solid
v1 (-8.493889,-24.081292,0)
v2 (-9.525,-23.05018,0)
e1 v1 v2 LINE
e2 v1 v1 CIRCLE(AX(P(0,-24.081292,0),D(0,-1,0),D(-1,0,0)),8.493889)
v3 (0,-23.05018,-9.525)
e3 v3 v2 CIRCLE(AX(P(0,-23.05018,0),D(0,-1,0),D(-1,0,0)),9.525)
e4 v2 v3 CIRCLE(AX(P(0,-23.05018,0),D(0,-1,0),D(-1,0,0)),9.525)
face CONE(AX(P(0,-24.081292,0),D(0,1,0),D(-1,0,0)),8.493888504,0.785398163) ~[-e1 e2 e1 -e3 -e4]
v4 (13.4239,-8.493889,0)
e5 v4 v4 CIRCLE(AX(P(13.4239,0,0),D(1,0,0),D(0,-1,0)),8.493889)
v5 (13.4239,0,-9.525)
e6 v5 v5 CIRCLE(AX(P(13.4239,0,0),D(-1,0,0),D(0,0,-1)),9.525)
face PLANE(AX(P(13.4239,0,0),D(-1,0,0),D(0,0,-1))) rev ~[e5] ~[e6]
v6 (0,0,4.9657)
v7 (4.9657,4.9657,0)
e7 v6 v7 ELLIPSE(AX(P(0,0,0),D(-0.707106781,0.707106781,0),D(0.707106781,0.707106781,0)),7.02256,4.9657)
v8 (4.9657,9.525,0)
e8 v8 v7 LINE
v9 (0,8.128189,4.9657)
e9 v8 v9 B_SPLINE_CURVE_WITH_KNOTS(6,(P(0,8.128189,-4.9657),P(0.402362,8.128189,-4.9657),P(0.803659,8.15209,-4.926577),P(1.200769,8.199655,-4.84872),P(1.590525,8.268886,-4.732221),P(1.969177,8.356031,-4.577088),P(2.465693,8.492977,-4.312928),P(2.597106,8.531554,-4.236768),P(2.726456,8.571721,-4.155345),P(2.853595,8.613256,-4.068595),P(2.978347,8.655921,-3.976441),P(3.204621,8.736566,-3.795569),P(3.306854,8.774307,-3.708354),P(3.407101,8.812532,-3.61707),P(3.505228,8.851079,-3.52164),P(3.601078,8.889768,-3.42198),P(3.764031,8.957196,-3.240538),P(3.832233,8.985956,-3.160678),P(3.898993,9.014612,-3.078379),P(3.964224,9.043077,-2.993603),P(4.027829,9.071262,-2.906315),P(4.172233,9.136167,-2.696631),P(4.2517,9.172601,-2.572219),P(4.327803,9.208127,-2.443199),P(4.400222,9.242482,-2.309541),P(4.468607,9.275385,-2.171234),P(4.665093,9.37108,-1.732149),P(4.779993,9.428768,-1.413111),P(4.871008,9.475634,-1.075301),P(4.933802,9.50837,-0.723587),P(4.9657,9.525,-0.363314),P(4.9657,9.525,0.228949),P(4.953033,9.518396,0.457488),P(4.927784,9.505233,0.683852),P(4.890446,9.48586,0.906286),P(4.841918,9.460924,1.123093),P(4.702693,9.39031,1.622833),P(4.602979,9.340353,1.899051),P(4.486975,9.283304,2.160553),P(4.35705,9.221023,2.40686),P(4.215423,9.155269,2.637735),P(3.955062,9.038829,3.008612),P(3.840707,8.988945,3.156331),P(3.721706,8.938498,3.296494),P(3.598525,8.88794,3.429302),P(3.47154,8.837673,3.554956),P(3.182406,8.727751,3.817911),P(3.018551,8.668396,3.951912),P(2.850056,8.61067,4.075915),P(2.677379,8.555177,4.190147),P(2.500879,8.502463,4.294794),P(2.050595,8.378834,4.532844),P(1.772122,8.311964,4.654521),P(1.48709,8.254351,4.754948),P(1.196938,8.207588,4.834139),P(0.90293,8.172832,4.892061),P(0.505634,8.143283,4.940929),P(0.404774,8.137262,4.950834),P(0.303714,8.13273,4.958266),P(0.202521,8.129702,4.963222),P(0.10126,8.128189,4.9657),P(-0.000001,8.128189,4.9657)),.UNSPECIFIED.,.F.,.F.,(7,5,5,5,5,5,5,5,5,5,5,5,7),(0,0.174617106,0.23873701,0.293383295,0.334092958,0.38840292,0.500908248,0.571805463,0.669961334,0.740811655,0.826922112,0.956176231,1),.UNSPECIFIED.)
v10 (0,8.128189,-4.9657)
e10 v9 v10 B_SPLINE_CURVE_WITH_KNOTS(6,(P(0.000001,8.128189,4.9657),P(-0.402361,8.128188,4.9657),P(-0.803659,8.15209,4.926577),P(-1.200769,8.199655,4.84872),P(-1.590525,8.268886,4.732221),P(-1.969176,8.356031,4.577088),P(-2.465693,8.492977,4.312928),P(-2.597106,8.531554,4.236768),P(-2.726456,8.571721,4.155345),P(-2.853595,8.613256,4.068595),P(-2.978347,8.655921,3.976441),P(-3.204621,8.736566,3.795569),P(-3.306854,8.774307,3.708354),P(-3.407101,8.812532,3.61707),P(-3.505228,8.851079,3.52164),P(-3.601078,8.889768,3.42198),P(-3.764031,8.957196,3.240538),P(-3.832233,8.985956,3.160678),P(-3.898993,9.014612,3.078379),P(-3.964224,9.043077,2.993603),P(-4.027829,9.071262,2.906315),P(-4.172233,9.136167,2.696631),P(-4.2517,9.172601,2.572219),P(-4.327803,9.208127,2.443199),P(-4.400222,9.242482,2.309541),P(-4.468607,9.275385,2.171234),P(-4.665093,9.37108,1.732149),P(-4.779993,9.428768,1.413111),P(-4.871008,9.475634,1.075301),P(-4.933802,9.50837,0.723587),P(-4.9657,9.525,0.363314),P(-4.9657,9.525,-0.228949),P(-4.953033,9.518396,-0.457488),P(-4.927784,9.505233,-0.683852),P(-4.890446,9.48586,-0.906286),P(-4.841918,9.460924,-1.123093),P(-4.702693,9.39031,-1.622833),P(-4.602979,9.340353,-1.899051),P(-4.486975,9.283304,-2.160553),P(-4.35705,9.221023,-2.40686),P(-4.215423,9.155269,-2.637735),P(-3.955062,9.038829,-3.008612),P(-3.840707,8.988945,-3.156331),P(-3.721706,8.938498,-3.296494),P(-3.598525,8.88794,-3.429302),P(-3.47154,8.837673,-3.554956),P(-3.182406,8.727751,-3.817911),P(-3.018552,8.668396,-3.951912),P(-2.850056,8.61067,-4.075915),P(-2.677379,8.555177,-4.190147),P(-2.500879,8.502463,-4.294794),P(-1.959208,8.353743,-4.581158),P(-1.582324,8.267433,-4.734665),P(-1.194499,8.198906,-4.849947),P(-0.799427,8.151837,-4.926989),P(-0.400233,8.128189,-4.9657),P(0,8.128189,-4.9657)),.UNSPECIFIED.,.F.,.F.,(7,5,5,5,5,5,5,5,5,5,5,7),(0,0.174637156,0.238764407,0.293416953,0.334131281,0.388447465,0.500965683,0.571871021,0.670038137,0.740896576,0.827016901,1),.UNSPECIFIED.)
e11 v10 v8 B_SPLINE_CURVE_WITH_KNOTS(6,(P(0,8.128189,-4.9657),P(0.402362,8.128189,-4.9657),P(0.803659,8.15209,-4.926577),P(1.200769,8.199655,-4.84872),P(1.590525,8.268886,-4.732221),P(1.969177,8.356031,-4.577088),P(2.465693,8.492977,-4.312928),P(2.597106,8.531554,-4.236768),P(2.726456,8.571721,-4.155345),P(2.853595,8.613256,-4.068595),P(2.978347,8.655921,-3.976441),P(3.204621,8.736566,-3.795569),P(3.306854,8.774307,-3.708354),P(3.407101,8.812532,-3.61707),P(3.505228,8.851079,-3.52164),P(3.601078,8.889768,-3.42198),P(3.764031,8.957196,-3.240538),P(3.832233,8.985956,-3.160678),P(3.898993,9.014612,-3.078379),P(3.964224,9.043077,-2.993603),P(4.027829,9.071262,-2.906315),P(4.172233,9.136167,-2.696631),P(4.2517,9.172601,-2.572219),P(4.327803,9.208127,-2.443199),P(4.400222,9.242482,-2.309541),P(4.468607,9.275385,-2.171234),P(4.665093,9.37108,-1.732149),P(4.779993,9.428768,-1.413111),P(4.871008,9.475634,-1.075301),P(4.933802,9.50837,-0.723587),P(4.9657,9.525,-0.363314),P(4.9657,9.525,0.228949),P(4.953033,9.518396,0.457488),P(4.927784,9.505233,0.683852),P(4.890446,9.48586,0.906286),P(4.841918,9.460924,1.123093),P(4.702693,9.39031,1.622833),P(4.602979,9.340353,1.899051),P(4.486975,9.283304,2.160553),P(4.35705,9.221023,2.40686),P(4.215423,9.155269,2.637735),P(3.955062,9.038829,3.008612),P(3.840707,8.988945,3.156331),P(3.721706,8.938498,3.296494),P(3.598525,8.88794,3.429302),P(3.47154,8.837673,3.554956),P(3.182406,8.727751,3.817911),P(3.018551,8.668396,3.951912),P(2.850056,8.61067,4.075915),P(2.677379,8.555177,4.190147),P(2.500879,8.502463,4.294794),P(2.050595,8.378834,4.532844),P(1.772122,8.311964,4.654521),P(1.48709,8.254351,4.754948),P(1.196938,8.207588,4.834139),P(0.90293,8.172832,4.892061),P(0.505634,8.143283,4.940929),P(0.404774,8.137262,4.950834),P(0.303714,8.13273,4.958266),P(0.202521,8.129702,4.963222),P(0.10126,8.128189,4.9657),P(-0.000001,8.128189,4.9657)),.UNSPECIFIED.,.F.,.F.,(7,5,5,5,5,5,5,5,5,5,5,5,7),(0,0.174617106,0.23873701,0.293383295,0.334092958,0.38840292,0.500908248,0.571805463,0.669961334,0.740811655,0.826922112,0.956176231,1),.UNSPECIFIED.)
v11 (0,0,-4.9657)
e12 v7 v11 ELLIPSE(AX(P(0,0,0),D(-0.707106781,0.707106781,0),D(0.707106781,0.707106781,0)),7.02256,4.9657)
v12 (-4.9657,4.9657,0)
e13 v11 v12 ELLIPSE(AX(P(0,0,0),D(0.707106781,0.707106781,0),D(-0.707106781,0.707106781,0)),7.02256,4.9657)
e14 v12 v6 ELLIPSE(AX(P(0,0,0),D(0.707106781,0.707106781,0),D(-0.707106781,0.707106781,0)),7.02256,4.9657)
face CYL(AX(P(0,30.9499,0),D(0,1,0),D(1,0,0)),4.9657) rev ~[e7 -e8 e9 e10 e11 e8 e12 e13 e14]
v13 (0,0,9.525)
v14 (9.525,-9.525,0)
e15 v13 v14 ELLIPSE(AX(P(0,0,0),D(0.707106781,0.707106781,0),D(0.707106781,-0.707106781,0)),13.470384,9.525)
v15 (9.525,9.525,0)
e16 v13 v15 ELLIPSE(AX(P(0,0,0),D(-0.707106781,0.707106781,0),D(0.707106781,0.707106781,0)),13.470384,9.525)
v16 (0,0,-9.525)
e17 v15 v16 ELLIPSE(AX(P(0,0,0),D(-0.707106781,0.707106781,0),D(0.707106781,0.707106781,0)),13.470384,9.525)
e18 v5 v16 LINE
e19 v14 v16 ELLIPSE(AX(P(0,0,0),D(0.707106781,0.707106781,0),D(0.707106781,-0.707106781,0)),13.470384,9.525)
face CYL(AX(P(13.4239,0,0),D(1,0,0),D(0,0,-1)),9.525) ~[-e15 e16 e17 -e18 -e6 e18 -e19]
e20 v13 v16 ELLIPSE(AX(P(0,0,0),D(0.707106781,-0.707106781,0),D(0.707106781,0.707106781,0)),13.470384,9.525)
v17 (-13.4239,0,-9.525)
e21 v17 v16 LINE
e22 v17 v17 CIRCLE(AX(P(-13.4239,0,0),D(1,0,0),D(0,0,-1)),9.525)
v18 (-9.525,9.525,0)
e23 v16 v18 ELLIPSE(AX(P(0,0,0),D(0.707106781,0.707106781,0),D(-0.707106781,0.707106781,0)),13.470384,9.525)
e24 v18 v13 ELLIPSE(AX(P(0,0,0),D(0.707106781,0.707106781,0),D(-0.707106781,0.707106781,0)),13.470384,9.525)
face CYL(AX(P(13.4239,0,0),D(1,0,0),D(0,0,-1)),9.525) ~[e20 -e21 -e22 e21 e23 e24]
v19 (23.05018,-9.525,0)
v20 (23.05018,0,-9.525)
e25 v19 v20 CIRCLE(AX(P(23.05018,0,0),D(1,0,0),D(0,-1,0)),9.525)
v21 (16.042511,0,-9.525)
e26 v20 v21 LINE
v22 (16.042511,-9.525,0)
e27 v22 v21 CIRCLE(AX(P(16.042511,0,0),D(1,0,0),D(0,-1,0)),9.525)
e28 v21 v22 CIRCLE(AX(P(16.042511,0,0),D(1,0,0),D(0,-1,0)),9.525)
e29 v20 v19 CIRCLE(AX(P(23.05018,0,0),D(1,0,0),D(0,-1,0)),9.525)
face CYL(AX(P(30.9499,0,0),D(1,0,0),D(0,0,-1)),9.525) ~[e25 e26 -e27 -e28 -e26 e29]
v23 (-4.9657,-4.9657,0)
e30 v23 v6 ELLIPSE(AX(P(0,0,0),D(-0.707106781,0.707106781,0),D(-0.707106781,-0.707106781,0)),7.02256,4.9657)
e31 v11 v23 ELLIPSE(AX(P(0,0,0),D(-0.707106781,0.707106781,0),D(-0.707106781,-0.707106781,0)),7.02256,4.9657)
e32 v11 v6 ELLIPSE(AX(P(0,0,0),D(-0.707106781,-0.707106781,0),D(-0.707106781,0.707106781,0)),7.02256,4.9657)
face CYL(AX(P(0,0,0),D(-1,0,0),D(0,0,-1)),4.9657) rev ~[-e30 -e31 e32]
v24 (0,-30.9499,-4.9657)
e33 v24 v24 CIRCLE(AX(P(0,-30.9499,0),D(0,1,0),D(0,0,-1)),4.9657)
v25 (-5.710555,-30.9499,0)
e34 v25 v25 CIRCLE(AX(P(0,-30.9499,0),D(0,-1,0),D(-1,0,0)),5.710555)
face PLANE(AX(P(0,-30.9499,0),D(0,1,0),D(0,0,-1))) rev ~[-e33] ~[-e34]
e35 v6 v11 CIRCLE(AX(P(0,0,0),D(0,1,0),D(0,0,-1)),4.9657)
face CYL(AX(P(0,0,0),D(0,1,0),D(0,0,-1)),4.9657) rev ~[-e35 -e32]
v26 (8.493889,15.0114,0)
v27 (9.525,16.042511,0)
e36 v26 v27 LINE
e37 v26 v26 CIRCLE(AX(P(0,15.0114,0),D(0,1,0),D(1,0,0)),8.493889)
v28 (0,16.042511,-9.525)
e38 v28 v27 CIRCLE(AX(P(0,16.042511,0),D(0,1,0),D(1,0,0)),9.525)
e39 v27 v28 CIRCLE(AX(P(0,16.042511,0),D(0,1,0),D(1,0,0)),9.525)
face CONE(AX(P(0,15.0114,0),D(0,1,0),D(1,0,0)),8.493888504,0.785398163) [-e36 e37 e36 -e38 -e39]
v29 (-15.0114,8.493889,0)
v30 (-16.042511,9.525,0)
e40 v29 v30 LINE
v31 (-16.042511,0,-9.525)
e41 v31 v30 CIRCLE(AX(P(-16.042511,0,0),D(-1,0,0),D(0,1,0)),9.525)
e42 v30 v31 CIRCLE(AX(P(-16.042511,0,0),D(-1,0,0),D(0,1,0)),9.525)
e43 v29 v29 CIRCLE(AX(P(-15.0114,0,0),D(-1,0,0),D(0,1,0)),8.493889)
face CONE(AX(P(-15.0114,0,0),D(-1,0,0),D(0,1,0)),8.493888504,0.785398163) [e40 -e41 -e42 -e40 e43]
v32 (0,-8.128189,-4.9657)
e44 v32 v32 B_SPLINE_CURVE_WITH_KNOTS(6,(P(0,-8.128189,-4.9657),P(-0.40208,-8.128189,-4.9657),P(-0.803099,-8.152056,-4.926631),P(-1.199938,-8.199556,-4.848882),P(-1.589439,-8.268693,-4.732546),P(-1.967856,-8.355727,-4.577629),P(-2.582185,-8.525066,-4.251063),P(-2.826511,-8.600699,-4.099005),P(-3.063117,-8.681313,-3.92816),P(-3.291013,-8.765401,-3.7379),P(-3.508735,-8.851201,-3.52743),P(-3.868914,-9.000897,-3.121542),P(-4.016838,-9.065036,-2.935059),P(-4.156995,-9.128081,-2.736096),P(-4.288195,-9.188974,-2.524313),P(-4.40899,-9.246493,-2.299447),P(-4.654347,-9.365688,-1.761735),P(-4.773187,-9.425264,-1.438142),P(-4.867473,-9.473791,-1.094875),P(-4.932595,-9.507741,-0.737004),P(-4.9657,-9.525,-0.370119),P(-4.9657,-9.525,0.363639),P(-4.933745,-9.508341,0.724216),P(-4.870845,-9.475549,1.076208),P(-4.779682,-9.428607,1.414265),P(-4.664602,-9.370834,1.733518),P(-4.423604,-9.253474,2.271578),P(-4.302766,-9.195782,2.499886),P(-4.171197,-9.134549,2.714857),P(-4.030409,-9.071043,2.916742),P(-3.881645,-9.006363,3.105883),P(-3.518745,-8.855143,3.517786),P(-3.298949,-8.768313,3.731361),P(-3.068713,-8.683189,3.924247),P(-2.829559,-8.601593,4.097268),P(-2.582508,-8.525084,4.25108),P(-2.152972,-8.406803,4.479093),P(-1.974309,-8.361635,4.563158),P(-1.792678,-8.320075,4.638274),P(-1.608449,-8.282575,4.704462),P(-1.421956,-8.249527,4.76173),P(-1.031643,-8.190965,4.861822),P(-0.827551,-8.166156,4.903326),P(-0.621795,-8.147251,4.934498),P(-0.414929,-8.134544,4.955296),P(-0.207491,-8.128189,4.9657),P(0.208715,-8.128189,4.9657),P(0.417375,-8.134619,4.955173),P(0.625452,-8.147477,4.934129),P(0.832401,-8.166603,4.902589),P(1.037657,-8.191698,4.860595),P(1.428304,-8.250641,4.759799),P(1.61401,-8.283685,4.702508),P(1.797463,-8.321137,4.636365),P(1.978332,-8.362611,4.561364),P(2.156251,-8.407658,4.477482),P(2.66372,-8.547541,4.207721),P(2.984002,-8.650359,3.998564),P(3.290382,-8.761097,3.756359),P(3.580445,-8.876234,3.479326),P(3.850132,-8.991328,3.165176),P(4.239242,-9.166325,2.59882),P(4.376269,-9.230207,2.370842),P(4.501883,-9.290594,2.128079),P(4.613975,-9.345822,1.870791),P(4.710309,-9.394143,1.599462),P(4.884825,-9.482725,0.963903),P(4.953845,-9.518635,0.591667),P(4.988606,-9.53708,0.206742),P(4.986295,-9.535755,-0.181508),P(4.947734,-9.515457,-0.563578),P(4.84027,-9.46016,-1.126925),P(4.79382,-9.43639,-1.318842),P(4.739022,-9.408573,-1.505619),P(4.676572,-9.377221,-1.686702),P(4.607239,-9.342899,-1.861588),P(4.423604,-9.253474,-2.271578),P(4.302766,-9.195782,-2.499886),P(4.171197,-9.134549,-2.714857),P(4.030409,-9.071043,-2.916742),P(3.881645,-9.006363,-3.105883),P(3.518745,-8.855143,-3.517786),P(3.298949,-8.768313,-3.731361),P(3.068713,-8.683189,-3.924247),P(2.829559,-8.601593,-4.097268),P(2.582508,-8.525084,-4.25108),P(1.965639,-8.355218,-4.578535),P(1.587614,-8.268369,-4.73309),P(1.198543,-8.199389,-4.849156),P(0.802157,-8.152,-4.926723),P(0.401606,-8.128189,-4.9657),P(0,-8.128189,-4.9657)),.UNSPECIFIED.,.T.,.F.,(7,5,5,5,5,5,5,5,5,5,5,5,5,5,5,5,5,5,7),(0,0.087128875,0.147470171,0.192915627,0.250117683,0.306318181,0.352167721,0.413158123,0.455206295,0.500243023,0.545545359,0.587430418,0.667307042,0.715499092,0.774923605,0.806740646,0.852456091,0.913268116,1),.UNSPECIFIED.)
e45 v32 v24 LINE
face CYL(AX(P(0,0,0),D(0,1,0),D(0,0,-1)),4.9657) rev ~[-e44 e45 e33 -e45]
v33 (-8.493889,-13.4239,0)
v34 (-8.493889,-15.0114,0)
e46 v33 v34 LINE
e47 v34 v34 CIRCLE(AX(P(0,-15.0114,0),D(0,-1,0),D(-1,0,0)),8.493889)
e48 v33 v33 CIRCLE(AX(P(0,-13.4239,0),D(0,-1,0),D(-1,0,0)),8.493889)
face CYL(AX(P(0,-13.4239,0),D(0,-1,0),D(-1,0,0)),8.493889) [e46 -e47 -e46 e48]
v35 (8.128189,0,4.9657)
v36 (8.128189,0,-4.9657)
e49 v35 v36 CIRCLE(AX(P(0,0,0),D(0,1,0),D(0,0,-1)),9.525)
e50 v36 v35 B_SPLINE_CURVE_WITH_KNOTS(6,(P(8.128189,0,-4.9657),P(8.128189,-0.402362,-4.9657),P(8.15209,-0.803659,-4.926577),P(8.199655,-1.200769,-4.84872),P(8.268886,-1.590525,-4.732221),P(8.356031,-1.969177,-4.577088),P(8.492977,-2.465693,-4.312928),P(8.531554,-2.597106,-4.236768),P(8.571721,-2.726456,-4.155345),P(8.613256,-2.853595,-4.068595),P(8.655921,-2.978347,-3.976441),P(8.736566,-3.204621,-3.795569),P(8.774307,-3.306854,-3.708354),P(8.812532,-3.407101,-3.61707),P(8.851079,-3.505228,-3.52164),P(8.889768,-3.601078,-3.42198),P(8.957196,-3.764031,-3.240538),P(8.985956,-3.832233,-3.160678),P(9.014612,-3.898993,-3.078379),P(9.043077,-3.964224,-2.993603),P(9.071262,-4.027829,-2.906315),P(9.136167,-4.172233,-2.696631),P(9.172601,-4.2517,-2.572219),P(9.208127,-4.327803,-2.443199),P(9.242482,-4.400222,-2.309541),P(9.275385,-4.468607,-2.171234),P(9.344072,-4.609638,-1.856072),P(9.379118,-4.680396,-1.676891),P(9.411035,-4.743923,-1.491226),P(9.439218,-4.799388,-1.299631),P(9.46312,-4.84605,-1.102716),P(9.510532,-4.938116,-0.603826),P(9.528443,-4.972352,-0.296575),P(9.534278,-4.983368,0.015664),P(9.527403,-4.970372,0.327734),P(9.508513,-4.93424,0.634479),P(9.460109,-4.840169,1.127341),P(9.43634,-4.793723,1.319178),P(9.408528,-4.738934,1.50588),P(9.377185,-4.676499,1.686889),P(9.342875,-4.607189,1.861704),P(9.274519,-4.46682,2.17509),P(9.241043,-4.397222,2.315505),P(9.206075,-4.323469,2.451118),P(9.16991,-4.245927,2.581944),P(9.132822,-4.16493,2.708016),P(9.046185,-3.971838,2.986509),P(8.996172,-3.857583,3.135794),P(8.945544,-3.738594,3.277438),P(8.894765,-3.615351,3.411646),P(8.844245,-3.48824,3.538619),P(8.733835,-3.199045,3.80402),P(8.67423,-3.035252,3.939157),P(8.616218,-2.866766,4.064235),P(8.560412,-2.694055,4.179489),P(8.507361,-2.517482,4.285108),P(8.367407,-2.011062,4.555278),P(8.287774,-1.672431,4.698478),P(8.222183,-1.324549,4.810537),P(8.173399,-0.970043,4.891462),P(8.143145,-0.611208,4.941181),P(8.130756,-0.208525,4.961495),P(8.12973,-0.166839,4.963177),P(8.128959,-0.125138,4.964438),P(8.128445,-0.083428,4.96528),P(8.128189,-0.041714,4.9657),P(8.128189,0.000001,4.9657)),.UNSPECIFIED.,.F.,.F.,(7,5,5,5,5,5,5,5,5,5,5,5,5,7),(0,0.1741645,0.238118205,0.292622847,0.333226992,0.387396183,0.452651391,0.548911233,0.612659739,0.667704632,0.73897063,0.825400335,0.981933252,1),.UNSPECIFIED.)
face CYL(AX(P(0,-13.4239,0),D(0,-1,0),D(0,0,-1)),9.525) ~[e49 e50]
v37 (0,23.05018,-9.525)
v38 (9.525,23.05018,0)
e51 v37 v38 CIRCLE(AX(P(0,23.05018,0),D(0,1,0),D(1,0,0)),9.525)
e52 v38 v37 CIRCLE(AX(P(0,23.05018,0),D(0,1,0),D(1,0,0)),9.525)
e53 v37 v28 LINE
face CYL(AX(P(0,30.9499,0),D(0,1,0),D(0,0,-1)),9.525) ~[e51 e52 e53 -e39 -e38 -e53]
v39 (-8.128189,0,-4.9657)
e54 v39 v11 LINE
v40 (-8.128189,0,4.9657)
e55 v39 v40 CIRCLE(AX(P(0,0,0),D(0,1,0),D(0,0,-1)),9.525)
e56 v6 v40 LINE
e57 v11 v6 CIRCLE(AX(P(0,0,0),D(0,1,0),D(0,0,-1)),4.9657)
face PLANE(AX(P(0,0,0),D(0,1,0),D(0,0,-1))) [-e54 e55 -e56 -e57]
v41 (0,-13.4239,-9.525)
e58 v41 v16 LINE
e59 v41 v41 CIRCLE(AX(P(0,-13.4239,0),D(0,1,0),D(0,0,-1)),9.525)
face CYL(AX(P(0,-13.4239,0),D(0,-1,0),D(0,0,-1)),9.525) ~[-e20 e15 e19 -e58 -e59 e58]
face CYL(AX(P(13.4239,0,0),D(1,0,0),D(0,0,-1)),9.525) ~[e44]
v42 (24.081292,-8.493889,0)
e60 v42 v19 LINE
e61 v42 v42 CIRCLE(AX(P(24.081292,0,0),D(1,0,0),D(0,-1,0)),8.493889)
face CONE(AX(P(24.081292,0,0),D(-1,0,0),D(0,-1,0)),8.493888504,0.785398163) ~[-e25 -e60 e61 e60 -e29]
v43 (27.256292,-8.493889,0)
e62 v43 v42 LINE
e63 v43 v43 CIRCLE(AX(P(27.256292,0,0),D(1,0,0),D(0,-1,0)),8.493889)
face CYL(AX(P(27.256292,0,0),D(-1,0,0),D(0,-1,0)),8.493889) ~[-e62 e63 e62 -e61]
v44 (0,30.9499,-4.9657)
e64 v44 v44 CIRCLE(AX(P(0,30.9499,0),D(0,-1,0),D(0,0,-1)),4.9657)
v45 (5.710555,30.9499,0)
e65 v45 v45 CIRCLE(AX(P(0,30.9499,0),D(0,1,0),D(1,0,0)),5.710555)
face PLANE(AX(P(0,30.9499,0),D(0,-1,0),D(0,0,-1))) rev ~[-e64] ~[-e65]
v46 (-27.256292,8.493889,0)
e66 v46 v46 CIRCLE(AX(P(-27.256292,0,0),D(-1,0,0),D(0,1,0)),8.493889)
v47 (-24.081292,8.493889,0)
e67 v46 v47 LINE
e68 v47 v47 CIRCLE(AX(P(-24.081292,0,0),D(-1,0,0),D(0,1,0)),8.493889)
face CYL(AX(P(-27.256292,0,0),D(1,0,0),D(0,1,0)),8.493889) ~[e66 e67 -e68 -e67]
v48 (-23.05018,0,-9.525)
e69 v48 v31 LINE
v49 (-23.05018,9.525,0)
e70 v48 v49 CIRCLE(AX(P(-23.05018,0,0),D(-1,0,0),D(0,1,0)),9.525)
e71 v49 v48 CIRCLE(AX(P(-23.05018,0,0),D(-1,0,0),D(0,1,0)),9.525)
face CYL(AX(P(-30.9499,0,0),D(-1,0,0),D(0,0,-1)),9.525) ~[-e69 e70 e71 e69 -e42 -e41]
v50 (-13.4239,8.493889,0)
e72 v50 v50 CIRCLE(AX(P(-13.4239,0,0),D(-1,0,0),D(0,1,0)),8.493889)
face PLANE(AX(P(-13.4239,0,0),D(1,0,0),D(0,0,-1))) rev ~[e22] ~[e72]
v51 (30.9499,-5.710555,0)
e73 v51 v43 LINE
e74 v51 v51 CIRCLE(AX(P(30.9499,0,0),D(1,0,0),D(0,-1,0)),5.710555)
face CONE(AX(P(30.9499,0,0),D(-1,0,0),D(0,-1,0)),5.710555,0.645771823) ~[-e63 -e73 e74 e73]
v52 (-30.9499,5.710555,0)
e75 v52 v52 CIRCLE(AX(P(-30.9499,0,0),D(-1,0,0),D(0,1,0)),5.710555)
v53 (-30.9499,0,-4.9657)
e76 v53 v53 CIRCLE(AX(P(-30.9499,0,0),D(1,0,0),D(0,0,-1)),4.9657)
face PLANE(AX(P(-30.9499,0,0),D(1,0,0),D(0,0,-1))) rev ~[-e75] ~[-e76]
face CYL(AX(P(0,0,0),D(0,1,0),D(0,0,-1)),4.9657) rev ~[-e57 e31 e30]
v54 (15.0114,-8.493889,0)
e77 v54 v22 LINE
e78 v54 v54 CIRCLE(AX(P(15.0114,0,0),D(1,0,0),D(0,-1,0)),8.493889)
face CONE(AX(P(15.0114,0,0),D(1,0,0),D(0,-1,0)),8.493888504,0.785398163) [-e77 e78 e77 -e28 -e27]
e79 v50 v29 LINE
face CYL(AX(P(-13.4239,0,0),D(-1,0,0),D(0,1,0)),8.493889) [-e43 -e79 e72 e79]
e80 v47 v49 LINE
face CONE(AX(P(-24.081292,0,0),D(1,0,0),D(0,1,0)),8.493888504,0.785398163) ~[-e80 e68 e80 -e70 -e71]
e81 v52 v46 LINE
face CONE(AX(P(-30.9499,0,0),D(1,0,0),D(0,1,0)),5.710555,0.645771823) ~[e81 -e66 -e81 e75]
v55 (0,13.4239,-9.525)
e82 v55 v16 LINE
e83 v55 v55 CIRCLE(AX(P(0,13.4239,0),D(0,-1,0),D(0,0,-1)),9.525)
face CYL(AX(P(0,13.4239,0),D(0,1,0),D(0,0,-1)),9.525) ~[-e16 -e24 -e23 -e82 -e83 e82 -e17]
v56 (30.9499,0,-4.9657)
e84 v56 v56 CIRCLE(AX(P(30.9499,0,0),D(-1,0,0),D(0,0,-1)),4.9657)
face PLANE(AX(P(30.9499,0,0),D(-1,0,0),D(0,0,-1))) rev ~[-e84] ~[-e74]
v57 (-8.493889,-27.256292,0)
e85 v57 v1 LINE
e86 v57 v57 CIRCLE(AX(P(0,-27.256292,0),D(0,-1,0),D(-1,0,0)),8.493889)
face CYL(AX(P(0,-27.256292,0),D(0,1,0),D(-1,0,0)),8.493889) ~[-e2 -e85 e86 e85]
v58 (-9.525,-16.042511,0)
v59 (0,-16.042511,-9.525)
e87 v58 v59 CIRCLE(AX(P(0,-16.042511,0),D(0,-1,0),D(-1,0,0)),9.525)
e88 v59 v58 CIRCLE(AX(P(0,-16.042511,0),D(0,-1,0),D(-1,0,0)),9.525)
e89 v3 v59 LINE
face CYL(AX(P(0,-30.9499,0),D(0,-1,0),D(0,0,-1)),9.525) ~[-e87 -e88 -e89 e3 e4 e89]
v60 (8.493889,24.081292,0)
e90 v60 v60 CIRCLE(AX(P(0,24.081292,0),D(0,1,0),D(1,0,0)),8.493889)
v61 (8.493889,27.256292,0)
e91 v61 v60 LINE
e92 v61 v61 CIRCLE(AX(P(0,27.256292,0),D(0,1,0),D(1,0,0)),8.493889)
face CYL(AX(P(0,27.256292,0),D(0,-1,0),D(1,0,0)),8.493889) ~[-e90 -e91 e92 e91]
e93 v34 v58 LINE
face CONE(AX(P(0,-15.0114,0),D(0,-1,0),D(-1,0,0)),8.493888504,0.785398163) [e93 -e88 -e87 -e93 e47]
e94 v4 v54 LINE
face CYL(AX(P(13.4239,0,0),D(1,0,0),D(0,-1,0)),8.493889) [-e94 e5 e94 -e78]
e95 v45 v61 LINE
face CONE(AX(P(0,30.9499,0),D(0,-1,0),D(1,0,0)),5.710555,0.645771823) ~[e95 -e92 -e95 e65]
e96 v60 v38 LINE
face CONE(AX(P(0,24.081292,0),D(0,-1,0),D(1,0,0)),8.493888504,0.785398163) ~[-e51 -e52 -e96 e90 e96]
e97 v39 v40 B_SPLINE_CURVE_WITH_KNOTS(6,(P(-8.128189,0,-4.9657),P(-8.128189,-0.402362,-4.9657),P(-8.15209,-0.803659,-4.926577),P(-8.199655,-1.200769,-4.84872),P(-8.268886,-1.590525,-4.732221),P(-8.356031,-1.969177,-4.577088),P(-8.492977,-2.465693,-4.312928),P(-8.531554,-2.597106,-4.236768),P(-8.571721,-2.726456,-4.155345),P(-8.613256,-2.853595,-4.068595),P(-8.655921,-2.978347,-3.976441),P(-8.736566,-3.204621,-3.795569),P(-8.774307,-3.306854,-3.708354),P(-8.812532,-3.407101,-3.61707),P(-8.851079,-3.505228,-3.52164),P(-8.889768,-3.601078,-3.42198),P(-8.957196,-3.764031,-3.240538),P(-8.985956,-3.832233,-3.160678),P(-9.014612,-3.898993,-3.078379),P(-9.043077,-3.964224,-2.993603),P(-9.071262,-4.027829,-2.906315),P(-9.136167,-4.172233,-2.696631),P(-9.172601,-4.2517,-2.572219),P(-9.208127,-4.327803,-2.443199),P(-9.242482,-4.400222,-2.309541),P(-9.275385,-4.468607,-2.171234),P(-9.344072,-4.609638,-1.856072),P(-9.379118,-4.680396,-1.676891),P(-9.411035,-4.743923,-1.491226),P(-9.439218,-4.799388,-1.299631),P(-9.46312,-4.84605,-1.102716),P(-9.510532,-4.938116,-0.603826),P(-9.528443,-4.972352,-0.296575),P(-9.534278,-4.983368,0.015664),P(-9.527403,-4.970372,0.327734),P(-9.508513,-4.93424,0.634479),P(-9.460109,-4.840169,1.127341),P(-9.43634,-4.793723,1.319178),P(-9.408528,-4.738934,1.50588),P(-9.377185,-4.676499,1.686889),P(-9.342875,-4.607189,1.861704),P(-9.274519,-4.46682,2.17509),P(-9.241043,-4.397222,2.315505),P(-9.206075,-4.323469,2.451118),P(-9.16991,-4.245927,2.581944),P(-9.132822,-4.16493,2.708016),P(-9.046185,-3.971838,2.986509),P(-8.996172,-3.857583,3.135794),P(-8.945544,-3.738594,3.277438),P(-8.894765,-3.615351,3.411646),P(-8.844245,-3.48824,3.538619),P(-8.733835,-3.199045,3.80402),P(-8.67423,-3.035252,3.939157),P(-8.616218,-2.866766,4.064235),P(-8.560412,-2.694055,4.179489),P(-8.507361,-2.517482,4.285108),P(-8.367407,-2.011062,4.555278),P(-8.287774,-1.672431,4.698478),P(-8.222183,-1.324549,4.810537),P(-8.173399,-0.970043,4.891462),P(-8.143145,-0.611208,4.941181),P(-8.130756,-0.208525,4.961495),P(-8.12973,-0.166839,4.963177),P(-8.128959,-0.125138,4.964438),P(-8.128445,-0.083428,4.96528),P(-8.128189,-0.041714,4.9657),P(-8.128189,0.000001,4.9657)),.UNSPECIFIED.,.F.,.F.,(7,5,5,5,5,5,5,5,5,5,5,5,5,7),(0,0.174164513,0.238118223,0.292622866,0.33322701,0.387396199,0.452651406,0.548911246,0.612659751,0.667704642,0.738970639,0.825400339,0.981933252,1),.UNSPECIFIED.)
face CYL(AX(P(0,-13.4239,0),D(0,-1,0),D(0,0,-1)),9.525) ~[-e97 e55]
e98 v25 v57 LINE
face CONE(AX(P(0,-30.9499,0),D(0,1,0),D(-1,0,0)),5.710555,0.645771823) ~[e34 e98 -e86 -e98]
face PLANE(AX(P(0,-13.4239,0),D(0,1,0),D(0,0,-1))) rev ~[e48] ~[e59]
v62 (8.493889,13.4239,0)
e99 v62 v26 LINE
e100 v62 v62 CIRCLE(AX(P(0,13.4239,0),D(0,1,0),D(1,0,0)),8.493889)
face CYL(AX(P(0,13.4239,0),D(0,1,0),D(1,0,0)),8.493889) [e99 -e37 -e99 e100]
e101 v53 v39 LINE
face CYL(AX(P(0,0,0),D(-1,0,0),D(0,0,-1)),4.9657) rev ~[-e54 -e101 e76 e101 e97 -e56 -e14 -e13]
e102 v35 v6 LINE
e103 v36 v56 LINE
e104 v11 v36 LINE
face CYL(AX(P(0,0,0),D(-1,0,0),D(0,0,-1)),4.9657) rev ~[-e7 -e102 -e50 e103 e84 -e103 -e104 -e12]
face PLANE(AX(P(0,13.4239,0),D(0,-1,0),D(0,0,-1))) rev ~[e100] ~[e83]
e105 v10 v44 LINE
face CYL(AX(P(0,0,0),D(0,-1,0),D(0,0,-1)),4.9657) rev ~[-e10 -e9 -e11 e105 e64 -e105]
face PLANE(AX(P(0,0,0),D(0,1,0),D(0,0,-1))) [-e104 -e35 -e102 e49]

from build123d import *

# Parameters (mm, degrees)
SKETCH2_R           = 9.525
EXTRUDE1_DEPTH      = 17.526
SKETCH15_R          = 9.525
BOSS_EXTRUDE1_DEPTH = 13.4239
SKETCH16_R          = 4.9657
CUT_EXTRUDE1_DEPTH  = 31.9499
CIRPATTERN1_COUNT   = 4
CIRPATTERN1_ANGLE   = 270
SKETCH17_R          = 4.9657
CUT_EXTRUDE2_DEPTH  = 62.8998
CUT_EXTRUDE3_REACH  = 63.9
SKETCH18_R          = 4.9657


with BuildPart() as part:
    # Sketch2 → Extrude1 (new body)
    with BuildSketch(Plane(origin=(-30.9499, 0, 0), x_dir=(0, 0, -1), z_dir=(1, 0, 0))):
        Circle(SKETCH2_R)
    extrude(amount=EXTRUDE1_DEPTH)

    # Sketch5 → Cut-Revolve1 (revolve, cut)
    with BuildSketch(Plane.XY):
        Polygon((-27.256291687, 8.493888504), (-24.081291687, 8.493888504), (-23.050180191, 9.525), (-30.9499, 9.525), (-30.9499, 5.710555), align=None)
        Polygon((-13.4239, 8.493888504), (-15.0114, 8.493888504), (-16.042511496, 9.525), (-13.4239, 9.525), align=None)
    revolve(axis=Axis((0, 0, 0), (-1, 0, 0)), mode=Mode.SUBTRACT)

    # Sketch15 → Boss-Extrude1 (add)
    with BuildSketch(Plane(origin=(-13.4239, 0, 0), x_dir=(0, 0, -1), z_dir=(1, 0, 0))):
        Circle(SKETCH15_R)
    extrude(amount=BOSS_EXTRUDE1_DEPTH)

    # Sketch16 → Cut-Extrude1 (cut, through all)
    with BuildSketch(Plane(origin=(0, 0, 0), x_dir=(0, 0, -1), z_dir=(1, 0, 0))):
        Circle(SKETCH16_R)
    extrude(amount=-CUT_EXTRUDE1_DEPTH, mode=Mode.SUBTRACT)


with BuildPart() as cirpattern1_1:
    # CirPattern1: pattern copy
    add(part.part.rotate(Axis((0, 0, 0), (0, 0, -1)), 1 * CIRPATTERN1_ANGLE / (CIRPATTERN1_COUNT - 1)))

    # Sketch17 → Cut-Extrude2 (cut, through all)
    with BuildSketch(Plane.ZY.offset(30.9499)):
        Circle(SKETCH17_R)
    extrude(amount=-CUT_EXTRUDE2_DEPTH, mode=Mode.SUBTRACT)


with BuildPart() as cirpattern1_2:
    # CirPattern1: pattern copy
    add(part.part.rotate(Axis((0, 0, 0), (0, 0, -1)), 2 * CIRPATTERN1_ANGLE / (CIRPATTERN1_COUNT - 1)))


with BuildPart() as cirpattern1_3:
    # CirPattern1: pattern copy
    add(part.part.rotate(Axis((0, 0, 0), (0, 0, -1)), 3 * CIRPATTERN1_ANGLE / (CIRPATTERN1_COUNT - 1)))


with BuildPart() as cirpattern1_1_1:
    add(cirpattern1_1.part)

    # Combine1: union part, CirPattern1_2, CirPattern1_3
    add(part.part)
    add(cirpattern1_2.part)
    add(cirpattern1_3.part)

    # Sketch18 → Cut-Extrude3 (cut, up to next)
    with BuildSketch(Plane(origin=(0, 30.9499, 0), x_dir=(1, 0, 0), z_dir=(0, 1, 0)), mode=Mode.PRIVATE) as cut_extrude3_sk1:
        Circle(SKETCH18_R)
    cut_extrude3_tool1 = extrude(cut_extrude3_sk1.sketch, amount=-CUT_EXTRUDE3_REACH, mode=Mode.PRIVATE) & cirpattern1_1_1.part
    add(cut_extrude3_tool1.solids().sort_by_distance((0, 30.9499, 0))[0], mode=Mode.SUBTRACT)


solid = cirpattern1_1_1.part
